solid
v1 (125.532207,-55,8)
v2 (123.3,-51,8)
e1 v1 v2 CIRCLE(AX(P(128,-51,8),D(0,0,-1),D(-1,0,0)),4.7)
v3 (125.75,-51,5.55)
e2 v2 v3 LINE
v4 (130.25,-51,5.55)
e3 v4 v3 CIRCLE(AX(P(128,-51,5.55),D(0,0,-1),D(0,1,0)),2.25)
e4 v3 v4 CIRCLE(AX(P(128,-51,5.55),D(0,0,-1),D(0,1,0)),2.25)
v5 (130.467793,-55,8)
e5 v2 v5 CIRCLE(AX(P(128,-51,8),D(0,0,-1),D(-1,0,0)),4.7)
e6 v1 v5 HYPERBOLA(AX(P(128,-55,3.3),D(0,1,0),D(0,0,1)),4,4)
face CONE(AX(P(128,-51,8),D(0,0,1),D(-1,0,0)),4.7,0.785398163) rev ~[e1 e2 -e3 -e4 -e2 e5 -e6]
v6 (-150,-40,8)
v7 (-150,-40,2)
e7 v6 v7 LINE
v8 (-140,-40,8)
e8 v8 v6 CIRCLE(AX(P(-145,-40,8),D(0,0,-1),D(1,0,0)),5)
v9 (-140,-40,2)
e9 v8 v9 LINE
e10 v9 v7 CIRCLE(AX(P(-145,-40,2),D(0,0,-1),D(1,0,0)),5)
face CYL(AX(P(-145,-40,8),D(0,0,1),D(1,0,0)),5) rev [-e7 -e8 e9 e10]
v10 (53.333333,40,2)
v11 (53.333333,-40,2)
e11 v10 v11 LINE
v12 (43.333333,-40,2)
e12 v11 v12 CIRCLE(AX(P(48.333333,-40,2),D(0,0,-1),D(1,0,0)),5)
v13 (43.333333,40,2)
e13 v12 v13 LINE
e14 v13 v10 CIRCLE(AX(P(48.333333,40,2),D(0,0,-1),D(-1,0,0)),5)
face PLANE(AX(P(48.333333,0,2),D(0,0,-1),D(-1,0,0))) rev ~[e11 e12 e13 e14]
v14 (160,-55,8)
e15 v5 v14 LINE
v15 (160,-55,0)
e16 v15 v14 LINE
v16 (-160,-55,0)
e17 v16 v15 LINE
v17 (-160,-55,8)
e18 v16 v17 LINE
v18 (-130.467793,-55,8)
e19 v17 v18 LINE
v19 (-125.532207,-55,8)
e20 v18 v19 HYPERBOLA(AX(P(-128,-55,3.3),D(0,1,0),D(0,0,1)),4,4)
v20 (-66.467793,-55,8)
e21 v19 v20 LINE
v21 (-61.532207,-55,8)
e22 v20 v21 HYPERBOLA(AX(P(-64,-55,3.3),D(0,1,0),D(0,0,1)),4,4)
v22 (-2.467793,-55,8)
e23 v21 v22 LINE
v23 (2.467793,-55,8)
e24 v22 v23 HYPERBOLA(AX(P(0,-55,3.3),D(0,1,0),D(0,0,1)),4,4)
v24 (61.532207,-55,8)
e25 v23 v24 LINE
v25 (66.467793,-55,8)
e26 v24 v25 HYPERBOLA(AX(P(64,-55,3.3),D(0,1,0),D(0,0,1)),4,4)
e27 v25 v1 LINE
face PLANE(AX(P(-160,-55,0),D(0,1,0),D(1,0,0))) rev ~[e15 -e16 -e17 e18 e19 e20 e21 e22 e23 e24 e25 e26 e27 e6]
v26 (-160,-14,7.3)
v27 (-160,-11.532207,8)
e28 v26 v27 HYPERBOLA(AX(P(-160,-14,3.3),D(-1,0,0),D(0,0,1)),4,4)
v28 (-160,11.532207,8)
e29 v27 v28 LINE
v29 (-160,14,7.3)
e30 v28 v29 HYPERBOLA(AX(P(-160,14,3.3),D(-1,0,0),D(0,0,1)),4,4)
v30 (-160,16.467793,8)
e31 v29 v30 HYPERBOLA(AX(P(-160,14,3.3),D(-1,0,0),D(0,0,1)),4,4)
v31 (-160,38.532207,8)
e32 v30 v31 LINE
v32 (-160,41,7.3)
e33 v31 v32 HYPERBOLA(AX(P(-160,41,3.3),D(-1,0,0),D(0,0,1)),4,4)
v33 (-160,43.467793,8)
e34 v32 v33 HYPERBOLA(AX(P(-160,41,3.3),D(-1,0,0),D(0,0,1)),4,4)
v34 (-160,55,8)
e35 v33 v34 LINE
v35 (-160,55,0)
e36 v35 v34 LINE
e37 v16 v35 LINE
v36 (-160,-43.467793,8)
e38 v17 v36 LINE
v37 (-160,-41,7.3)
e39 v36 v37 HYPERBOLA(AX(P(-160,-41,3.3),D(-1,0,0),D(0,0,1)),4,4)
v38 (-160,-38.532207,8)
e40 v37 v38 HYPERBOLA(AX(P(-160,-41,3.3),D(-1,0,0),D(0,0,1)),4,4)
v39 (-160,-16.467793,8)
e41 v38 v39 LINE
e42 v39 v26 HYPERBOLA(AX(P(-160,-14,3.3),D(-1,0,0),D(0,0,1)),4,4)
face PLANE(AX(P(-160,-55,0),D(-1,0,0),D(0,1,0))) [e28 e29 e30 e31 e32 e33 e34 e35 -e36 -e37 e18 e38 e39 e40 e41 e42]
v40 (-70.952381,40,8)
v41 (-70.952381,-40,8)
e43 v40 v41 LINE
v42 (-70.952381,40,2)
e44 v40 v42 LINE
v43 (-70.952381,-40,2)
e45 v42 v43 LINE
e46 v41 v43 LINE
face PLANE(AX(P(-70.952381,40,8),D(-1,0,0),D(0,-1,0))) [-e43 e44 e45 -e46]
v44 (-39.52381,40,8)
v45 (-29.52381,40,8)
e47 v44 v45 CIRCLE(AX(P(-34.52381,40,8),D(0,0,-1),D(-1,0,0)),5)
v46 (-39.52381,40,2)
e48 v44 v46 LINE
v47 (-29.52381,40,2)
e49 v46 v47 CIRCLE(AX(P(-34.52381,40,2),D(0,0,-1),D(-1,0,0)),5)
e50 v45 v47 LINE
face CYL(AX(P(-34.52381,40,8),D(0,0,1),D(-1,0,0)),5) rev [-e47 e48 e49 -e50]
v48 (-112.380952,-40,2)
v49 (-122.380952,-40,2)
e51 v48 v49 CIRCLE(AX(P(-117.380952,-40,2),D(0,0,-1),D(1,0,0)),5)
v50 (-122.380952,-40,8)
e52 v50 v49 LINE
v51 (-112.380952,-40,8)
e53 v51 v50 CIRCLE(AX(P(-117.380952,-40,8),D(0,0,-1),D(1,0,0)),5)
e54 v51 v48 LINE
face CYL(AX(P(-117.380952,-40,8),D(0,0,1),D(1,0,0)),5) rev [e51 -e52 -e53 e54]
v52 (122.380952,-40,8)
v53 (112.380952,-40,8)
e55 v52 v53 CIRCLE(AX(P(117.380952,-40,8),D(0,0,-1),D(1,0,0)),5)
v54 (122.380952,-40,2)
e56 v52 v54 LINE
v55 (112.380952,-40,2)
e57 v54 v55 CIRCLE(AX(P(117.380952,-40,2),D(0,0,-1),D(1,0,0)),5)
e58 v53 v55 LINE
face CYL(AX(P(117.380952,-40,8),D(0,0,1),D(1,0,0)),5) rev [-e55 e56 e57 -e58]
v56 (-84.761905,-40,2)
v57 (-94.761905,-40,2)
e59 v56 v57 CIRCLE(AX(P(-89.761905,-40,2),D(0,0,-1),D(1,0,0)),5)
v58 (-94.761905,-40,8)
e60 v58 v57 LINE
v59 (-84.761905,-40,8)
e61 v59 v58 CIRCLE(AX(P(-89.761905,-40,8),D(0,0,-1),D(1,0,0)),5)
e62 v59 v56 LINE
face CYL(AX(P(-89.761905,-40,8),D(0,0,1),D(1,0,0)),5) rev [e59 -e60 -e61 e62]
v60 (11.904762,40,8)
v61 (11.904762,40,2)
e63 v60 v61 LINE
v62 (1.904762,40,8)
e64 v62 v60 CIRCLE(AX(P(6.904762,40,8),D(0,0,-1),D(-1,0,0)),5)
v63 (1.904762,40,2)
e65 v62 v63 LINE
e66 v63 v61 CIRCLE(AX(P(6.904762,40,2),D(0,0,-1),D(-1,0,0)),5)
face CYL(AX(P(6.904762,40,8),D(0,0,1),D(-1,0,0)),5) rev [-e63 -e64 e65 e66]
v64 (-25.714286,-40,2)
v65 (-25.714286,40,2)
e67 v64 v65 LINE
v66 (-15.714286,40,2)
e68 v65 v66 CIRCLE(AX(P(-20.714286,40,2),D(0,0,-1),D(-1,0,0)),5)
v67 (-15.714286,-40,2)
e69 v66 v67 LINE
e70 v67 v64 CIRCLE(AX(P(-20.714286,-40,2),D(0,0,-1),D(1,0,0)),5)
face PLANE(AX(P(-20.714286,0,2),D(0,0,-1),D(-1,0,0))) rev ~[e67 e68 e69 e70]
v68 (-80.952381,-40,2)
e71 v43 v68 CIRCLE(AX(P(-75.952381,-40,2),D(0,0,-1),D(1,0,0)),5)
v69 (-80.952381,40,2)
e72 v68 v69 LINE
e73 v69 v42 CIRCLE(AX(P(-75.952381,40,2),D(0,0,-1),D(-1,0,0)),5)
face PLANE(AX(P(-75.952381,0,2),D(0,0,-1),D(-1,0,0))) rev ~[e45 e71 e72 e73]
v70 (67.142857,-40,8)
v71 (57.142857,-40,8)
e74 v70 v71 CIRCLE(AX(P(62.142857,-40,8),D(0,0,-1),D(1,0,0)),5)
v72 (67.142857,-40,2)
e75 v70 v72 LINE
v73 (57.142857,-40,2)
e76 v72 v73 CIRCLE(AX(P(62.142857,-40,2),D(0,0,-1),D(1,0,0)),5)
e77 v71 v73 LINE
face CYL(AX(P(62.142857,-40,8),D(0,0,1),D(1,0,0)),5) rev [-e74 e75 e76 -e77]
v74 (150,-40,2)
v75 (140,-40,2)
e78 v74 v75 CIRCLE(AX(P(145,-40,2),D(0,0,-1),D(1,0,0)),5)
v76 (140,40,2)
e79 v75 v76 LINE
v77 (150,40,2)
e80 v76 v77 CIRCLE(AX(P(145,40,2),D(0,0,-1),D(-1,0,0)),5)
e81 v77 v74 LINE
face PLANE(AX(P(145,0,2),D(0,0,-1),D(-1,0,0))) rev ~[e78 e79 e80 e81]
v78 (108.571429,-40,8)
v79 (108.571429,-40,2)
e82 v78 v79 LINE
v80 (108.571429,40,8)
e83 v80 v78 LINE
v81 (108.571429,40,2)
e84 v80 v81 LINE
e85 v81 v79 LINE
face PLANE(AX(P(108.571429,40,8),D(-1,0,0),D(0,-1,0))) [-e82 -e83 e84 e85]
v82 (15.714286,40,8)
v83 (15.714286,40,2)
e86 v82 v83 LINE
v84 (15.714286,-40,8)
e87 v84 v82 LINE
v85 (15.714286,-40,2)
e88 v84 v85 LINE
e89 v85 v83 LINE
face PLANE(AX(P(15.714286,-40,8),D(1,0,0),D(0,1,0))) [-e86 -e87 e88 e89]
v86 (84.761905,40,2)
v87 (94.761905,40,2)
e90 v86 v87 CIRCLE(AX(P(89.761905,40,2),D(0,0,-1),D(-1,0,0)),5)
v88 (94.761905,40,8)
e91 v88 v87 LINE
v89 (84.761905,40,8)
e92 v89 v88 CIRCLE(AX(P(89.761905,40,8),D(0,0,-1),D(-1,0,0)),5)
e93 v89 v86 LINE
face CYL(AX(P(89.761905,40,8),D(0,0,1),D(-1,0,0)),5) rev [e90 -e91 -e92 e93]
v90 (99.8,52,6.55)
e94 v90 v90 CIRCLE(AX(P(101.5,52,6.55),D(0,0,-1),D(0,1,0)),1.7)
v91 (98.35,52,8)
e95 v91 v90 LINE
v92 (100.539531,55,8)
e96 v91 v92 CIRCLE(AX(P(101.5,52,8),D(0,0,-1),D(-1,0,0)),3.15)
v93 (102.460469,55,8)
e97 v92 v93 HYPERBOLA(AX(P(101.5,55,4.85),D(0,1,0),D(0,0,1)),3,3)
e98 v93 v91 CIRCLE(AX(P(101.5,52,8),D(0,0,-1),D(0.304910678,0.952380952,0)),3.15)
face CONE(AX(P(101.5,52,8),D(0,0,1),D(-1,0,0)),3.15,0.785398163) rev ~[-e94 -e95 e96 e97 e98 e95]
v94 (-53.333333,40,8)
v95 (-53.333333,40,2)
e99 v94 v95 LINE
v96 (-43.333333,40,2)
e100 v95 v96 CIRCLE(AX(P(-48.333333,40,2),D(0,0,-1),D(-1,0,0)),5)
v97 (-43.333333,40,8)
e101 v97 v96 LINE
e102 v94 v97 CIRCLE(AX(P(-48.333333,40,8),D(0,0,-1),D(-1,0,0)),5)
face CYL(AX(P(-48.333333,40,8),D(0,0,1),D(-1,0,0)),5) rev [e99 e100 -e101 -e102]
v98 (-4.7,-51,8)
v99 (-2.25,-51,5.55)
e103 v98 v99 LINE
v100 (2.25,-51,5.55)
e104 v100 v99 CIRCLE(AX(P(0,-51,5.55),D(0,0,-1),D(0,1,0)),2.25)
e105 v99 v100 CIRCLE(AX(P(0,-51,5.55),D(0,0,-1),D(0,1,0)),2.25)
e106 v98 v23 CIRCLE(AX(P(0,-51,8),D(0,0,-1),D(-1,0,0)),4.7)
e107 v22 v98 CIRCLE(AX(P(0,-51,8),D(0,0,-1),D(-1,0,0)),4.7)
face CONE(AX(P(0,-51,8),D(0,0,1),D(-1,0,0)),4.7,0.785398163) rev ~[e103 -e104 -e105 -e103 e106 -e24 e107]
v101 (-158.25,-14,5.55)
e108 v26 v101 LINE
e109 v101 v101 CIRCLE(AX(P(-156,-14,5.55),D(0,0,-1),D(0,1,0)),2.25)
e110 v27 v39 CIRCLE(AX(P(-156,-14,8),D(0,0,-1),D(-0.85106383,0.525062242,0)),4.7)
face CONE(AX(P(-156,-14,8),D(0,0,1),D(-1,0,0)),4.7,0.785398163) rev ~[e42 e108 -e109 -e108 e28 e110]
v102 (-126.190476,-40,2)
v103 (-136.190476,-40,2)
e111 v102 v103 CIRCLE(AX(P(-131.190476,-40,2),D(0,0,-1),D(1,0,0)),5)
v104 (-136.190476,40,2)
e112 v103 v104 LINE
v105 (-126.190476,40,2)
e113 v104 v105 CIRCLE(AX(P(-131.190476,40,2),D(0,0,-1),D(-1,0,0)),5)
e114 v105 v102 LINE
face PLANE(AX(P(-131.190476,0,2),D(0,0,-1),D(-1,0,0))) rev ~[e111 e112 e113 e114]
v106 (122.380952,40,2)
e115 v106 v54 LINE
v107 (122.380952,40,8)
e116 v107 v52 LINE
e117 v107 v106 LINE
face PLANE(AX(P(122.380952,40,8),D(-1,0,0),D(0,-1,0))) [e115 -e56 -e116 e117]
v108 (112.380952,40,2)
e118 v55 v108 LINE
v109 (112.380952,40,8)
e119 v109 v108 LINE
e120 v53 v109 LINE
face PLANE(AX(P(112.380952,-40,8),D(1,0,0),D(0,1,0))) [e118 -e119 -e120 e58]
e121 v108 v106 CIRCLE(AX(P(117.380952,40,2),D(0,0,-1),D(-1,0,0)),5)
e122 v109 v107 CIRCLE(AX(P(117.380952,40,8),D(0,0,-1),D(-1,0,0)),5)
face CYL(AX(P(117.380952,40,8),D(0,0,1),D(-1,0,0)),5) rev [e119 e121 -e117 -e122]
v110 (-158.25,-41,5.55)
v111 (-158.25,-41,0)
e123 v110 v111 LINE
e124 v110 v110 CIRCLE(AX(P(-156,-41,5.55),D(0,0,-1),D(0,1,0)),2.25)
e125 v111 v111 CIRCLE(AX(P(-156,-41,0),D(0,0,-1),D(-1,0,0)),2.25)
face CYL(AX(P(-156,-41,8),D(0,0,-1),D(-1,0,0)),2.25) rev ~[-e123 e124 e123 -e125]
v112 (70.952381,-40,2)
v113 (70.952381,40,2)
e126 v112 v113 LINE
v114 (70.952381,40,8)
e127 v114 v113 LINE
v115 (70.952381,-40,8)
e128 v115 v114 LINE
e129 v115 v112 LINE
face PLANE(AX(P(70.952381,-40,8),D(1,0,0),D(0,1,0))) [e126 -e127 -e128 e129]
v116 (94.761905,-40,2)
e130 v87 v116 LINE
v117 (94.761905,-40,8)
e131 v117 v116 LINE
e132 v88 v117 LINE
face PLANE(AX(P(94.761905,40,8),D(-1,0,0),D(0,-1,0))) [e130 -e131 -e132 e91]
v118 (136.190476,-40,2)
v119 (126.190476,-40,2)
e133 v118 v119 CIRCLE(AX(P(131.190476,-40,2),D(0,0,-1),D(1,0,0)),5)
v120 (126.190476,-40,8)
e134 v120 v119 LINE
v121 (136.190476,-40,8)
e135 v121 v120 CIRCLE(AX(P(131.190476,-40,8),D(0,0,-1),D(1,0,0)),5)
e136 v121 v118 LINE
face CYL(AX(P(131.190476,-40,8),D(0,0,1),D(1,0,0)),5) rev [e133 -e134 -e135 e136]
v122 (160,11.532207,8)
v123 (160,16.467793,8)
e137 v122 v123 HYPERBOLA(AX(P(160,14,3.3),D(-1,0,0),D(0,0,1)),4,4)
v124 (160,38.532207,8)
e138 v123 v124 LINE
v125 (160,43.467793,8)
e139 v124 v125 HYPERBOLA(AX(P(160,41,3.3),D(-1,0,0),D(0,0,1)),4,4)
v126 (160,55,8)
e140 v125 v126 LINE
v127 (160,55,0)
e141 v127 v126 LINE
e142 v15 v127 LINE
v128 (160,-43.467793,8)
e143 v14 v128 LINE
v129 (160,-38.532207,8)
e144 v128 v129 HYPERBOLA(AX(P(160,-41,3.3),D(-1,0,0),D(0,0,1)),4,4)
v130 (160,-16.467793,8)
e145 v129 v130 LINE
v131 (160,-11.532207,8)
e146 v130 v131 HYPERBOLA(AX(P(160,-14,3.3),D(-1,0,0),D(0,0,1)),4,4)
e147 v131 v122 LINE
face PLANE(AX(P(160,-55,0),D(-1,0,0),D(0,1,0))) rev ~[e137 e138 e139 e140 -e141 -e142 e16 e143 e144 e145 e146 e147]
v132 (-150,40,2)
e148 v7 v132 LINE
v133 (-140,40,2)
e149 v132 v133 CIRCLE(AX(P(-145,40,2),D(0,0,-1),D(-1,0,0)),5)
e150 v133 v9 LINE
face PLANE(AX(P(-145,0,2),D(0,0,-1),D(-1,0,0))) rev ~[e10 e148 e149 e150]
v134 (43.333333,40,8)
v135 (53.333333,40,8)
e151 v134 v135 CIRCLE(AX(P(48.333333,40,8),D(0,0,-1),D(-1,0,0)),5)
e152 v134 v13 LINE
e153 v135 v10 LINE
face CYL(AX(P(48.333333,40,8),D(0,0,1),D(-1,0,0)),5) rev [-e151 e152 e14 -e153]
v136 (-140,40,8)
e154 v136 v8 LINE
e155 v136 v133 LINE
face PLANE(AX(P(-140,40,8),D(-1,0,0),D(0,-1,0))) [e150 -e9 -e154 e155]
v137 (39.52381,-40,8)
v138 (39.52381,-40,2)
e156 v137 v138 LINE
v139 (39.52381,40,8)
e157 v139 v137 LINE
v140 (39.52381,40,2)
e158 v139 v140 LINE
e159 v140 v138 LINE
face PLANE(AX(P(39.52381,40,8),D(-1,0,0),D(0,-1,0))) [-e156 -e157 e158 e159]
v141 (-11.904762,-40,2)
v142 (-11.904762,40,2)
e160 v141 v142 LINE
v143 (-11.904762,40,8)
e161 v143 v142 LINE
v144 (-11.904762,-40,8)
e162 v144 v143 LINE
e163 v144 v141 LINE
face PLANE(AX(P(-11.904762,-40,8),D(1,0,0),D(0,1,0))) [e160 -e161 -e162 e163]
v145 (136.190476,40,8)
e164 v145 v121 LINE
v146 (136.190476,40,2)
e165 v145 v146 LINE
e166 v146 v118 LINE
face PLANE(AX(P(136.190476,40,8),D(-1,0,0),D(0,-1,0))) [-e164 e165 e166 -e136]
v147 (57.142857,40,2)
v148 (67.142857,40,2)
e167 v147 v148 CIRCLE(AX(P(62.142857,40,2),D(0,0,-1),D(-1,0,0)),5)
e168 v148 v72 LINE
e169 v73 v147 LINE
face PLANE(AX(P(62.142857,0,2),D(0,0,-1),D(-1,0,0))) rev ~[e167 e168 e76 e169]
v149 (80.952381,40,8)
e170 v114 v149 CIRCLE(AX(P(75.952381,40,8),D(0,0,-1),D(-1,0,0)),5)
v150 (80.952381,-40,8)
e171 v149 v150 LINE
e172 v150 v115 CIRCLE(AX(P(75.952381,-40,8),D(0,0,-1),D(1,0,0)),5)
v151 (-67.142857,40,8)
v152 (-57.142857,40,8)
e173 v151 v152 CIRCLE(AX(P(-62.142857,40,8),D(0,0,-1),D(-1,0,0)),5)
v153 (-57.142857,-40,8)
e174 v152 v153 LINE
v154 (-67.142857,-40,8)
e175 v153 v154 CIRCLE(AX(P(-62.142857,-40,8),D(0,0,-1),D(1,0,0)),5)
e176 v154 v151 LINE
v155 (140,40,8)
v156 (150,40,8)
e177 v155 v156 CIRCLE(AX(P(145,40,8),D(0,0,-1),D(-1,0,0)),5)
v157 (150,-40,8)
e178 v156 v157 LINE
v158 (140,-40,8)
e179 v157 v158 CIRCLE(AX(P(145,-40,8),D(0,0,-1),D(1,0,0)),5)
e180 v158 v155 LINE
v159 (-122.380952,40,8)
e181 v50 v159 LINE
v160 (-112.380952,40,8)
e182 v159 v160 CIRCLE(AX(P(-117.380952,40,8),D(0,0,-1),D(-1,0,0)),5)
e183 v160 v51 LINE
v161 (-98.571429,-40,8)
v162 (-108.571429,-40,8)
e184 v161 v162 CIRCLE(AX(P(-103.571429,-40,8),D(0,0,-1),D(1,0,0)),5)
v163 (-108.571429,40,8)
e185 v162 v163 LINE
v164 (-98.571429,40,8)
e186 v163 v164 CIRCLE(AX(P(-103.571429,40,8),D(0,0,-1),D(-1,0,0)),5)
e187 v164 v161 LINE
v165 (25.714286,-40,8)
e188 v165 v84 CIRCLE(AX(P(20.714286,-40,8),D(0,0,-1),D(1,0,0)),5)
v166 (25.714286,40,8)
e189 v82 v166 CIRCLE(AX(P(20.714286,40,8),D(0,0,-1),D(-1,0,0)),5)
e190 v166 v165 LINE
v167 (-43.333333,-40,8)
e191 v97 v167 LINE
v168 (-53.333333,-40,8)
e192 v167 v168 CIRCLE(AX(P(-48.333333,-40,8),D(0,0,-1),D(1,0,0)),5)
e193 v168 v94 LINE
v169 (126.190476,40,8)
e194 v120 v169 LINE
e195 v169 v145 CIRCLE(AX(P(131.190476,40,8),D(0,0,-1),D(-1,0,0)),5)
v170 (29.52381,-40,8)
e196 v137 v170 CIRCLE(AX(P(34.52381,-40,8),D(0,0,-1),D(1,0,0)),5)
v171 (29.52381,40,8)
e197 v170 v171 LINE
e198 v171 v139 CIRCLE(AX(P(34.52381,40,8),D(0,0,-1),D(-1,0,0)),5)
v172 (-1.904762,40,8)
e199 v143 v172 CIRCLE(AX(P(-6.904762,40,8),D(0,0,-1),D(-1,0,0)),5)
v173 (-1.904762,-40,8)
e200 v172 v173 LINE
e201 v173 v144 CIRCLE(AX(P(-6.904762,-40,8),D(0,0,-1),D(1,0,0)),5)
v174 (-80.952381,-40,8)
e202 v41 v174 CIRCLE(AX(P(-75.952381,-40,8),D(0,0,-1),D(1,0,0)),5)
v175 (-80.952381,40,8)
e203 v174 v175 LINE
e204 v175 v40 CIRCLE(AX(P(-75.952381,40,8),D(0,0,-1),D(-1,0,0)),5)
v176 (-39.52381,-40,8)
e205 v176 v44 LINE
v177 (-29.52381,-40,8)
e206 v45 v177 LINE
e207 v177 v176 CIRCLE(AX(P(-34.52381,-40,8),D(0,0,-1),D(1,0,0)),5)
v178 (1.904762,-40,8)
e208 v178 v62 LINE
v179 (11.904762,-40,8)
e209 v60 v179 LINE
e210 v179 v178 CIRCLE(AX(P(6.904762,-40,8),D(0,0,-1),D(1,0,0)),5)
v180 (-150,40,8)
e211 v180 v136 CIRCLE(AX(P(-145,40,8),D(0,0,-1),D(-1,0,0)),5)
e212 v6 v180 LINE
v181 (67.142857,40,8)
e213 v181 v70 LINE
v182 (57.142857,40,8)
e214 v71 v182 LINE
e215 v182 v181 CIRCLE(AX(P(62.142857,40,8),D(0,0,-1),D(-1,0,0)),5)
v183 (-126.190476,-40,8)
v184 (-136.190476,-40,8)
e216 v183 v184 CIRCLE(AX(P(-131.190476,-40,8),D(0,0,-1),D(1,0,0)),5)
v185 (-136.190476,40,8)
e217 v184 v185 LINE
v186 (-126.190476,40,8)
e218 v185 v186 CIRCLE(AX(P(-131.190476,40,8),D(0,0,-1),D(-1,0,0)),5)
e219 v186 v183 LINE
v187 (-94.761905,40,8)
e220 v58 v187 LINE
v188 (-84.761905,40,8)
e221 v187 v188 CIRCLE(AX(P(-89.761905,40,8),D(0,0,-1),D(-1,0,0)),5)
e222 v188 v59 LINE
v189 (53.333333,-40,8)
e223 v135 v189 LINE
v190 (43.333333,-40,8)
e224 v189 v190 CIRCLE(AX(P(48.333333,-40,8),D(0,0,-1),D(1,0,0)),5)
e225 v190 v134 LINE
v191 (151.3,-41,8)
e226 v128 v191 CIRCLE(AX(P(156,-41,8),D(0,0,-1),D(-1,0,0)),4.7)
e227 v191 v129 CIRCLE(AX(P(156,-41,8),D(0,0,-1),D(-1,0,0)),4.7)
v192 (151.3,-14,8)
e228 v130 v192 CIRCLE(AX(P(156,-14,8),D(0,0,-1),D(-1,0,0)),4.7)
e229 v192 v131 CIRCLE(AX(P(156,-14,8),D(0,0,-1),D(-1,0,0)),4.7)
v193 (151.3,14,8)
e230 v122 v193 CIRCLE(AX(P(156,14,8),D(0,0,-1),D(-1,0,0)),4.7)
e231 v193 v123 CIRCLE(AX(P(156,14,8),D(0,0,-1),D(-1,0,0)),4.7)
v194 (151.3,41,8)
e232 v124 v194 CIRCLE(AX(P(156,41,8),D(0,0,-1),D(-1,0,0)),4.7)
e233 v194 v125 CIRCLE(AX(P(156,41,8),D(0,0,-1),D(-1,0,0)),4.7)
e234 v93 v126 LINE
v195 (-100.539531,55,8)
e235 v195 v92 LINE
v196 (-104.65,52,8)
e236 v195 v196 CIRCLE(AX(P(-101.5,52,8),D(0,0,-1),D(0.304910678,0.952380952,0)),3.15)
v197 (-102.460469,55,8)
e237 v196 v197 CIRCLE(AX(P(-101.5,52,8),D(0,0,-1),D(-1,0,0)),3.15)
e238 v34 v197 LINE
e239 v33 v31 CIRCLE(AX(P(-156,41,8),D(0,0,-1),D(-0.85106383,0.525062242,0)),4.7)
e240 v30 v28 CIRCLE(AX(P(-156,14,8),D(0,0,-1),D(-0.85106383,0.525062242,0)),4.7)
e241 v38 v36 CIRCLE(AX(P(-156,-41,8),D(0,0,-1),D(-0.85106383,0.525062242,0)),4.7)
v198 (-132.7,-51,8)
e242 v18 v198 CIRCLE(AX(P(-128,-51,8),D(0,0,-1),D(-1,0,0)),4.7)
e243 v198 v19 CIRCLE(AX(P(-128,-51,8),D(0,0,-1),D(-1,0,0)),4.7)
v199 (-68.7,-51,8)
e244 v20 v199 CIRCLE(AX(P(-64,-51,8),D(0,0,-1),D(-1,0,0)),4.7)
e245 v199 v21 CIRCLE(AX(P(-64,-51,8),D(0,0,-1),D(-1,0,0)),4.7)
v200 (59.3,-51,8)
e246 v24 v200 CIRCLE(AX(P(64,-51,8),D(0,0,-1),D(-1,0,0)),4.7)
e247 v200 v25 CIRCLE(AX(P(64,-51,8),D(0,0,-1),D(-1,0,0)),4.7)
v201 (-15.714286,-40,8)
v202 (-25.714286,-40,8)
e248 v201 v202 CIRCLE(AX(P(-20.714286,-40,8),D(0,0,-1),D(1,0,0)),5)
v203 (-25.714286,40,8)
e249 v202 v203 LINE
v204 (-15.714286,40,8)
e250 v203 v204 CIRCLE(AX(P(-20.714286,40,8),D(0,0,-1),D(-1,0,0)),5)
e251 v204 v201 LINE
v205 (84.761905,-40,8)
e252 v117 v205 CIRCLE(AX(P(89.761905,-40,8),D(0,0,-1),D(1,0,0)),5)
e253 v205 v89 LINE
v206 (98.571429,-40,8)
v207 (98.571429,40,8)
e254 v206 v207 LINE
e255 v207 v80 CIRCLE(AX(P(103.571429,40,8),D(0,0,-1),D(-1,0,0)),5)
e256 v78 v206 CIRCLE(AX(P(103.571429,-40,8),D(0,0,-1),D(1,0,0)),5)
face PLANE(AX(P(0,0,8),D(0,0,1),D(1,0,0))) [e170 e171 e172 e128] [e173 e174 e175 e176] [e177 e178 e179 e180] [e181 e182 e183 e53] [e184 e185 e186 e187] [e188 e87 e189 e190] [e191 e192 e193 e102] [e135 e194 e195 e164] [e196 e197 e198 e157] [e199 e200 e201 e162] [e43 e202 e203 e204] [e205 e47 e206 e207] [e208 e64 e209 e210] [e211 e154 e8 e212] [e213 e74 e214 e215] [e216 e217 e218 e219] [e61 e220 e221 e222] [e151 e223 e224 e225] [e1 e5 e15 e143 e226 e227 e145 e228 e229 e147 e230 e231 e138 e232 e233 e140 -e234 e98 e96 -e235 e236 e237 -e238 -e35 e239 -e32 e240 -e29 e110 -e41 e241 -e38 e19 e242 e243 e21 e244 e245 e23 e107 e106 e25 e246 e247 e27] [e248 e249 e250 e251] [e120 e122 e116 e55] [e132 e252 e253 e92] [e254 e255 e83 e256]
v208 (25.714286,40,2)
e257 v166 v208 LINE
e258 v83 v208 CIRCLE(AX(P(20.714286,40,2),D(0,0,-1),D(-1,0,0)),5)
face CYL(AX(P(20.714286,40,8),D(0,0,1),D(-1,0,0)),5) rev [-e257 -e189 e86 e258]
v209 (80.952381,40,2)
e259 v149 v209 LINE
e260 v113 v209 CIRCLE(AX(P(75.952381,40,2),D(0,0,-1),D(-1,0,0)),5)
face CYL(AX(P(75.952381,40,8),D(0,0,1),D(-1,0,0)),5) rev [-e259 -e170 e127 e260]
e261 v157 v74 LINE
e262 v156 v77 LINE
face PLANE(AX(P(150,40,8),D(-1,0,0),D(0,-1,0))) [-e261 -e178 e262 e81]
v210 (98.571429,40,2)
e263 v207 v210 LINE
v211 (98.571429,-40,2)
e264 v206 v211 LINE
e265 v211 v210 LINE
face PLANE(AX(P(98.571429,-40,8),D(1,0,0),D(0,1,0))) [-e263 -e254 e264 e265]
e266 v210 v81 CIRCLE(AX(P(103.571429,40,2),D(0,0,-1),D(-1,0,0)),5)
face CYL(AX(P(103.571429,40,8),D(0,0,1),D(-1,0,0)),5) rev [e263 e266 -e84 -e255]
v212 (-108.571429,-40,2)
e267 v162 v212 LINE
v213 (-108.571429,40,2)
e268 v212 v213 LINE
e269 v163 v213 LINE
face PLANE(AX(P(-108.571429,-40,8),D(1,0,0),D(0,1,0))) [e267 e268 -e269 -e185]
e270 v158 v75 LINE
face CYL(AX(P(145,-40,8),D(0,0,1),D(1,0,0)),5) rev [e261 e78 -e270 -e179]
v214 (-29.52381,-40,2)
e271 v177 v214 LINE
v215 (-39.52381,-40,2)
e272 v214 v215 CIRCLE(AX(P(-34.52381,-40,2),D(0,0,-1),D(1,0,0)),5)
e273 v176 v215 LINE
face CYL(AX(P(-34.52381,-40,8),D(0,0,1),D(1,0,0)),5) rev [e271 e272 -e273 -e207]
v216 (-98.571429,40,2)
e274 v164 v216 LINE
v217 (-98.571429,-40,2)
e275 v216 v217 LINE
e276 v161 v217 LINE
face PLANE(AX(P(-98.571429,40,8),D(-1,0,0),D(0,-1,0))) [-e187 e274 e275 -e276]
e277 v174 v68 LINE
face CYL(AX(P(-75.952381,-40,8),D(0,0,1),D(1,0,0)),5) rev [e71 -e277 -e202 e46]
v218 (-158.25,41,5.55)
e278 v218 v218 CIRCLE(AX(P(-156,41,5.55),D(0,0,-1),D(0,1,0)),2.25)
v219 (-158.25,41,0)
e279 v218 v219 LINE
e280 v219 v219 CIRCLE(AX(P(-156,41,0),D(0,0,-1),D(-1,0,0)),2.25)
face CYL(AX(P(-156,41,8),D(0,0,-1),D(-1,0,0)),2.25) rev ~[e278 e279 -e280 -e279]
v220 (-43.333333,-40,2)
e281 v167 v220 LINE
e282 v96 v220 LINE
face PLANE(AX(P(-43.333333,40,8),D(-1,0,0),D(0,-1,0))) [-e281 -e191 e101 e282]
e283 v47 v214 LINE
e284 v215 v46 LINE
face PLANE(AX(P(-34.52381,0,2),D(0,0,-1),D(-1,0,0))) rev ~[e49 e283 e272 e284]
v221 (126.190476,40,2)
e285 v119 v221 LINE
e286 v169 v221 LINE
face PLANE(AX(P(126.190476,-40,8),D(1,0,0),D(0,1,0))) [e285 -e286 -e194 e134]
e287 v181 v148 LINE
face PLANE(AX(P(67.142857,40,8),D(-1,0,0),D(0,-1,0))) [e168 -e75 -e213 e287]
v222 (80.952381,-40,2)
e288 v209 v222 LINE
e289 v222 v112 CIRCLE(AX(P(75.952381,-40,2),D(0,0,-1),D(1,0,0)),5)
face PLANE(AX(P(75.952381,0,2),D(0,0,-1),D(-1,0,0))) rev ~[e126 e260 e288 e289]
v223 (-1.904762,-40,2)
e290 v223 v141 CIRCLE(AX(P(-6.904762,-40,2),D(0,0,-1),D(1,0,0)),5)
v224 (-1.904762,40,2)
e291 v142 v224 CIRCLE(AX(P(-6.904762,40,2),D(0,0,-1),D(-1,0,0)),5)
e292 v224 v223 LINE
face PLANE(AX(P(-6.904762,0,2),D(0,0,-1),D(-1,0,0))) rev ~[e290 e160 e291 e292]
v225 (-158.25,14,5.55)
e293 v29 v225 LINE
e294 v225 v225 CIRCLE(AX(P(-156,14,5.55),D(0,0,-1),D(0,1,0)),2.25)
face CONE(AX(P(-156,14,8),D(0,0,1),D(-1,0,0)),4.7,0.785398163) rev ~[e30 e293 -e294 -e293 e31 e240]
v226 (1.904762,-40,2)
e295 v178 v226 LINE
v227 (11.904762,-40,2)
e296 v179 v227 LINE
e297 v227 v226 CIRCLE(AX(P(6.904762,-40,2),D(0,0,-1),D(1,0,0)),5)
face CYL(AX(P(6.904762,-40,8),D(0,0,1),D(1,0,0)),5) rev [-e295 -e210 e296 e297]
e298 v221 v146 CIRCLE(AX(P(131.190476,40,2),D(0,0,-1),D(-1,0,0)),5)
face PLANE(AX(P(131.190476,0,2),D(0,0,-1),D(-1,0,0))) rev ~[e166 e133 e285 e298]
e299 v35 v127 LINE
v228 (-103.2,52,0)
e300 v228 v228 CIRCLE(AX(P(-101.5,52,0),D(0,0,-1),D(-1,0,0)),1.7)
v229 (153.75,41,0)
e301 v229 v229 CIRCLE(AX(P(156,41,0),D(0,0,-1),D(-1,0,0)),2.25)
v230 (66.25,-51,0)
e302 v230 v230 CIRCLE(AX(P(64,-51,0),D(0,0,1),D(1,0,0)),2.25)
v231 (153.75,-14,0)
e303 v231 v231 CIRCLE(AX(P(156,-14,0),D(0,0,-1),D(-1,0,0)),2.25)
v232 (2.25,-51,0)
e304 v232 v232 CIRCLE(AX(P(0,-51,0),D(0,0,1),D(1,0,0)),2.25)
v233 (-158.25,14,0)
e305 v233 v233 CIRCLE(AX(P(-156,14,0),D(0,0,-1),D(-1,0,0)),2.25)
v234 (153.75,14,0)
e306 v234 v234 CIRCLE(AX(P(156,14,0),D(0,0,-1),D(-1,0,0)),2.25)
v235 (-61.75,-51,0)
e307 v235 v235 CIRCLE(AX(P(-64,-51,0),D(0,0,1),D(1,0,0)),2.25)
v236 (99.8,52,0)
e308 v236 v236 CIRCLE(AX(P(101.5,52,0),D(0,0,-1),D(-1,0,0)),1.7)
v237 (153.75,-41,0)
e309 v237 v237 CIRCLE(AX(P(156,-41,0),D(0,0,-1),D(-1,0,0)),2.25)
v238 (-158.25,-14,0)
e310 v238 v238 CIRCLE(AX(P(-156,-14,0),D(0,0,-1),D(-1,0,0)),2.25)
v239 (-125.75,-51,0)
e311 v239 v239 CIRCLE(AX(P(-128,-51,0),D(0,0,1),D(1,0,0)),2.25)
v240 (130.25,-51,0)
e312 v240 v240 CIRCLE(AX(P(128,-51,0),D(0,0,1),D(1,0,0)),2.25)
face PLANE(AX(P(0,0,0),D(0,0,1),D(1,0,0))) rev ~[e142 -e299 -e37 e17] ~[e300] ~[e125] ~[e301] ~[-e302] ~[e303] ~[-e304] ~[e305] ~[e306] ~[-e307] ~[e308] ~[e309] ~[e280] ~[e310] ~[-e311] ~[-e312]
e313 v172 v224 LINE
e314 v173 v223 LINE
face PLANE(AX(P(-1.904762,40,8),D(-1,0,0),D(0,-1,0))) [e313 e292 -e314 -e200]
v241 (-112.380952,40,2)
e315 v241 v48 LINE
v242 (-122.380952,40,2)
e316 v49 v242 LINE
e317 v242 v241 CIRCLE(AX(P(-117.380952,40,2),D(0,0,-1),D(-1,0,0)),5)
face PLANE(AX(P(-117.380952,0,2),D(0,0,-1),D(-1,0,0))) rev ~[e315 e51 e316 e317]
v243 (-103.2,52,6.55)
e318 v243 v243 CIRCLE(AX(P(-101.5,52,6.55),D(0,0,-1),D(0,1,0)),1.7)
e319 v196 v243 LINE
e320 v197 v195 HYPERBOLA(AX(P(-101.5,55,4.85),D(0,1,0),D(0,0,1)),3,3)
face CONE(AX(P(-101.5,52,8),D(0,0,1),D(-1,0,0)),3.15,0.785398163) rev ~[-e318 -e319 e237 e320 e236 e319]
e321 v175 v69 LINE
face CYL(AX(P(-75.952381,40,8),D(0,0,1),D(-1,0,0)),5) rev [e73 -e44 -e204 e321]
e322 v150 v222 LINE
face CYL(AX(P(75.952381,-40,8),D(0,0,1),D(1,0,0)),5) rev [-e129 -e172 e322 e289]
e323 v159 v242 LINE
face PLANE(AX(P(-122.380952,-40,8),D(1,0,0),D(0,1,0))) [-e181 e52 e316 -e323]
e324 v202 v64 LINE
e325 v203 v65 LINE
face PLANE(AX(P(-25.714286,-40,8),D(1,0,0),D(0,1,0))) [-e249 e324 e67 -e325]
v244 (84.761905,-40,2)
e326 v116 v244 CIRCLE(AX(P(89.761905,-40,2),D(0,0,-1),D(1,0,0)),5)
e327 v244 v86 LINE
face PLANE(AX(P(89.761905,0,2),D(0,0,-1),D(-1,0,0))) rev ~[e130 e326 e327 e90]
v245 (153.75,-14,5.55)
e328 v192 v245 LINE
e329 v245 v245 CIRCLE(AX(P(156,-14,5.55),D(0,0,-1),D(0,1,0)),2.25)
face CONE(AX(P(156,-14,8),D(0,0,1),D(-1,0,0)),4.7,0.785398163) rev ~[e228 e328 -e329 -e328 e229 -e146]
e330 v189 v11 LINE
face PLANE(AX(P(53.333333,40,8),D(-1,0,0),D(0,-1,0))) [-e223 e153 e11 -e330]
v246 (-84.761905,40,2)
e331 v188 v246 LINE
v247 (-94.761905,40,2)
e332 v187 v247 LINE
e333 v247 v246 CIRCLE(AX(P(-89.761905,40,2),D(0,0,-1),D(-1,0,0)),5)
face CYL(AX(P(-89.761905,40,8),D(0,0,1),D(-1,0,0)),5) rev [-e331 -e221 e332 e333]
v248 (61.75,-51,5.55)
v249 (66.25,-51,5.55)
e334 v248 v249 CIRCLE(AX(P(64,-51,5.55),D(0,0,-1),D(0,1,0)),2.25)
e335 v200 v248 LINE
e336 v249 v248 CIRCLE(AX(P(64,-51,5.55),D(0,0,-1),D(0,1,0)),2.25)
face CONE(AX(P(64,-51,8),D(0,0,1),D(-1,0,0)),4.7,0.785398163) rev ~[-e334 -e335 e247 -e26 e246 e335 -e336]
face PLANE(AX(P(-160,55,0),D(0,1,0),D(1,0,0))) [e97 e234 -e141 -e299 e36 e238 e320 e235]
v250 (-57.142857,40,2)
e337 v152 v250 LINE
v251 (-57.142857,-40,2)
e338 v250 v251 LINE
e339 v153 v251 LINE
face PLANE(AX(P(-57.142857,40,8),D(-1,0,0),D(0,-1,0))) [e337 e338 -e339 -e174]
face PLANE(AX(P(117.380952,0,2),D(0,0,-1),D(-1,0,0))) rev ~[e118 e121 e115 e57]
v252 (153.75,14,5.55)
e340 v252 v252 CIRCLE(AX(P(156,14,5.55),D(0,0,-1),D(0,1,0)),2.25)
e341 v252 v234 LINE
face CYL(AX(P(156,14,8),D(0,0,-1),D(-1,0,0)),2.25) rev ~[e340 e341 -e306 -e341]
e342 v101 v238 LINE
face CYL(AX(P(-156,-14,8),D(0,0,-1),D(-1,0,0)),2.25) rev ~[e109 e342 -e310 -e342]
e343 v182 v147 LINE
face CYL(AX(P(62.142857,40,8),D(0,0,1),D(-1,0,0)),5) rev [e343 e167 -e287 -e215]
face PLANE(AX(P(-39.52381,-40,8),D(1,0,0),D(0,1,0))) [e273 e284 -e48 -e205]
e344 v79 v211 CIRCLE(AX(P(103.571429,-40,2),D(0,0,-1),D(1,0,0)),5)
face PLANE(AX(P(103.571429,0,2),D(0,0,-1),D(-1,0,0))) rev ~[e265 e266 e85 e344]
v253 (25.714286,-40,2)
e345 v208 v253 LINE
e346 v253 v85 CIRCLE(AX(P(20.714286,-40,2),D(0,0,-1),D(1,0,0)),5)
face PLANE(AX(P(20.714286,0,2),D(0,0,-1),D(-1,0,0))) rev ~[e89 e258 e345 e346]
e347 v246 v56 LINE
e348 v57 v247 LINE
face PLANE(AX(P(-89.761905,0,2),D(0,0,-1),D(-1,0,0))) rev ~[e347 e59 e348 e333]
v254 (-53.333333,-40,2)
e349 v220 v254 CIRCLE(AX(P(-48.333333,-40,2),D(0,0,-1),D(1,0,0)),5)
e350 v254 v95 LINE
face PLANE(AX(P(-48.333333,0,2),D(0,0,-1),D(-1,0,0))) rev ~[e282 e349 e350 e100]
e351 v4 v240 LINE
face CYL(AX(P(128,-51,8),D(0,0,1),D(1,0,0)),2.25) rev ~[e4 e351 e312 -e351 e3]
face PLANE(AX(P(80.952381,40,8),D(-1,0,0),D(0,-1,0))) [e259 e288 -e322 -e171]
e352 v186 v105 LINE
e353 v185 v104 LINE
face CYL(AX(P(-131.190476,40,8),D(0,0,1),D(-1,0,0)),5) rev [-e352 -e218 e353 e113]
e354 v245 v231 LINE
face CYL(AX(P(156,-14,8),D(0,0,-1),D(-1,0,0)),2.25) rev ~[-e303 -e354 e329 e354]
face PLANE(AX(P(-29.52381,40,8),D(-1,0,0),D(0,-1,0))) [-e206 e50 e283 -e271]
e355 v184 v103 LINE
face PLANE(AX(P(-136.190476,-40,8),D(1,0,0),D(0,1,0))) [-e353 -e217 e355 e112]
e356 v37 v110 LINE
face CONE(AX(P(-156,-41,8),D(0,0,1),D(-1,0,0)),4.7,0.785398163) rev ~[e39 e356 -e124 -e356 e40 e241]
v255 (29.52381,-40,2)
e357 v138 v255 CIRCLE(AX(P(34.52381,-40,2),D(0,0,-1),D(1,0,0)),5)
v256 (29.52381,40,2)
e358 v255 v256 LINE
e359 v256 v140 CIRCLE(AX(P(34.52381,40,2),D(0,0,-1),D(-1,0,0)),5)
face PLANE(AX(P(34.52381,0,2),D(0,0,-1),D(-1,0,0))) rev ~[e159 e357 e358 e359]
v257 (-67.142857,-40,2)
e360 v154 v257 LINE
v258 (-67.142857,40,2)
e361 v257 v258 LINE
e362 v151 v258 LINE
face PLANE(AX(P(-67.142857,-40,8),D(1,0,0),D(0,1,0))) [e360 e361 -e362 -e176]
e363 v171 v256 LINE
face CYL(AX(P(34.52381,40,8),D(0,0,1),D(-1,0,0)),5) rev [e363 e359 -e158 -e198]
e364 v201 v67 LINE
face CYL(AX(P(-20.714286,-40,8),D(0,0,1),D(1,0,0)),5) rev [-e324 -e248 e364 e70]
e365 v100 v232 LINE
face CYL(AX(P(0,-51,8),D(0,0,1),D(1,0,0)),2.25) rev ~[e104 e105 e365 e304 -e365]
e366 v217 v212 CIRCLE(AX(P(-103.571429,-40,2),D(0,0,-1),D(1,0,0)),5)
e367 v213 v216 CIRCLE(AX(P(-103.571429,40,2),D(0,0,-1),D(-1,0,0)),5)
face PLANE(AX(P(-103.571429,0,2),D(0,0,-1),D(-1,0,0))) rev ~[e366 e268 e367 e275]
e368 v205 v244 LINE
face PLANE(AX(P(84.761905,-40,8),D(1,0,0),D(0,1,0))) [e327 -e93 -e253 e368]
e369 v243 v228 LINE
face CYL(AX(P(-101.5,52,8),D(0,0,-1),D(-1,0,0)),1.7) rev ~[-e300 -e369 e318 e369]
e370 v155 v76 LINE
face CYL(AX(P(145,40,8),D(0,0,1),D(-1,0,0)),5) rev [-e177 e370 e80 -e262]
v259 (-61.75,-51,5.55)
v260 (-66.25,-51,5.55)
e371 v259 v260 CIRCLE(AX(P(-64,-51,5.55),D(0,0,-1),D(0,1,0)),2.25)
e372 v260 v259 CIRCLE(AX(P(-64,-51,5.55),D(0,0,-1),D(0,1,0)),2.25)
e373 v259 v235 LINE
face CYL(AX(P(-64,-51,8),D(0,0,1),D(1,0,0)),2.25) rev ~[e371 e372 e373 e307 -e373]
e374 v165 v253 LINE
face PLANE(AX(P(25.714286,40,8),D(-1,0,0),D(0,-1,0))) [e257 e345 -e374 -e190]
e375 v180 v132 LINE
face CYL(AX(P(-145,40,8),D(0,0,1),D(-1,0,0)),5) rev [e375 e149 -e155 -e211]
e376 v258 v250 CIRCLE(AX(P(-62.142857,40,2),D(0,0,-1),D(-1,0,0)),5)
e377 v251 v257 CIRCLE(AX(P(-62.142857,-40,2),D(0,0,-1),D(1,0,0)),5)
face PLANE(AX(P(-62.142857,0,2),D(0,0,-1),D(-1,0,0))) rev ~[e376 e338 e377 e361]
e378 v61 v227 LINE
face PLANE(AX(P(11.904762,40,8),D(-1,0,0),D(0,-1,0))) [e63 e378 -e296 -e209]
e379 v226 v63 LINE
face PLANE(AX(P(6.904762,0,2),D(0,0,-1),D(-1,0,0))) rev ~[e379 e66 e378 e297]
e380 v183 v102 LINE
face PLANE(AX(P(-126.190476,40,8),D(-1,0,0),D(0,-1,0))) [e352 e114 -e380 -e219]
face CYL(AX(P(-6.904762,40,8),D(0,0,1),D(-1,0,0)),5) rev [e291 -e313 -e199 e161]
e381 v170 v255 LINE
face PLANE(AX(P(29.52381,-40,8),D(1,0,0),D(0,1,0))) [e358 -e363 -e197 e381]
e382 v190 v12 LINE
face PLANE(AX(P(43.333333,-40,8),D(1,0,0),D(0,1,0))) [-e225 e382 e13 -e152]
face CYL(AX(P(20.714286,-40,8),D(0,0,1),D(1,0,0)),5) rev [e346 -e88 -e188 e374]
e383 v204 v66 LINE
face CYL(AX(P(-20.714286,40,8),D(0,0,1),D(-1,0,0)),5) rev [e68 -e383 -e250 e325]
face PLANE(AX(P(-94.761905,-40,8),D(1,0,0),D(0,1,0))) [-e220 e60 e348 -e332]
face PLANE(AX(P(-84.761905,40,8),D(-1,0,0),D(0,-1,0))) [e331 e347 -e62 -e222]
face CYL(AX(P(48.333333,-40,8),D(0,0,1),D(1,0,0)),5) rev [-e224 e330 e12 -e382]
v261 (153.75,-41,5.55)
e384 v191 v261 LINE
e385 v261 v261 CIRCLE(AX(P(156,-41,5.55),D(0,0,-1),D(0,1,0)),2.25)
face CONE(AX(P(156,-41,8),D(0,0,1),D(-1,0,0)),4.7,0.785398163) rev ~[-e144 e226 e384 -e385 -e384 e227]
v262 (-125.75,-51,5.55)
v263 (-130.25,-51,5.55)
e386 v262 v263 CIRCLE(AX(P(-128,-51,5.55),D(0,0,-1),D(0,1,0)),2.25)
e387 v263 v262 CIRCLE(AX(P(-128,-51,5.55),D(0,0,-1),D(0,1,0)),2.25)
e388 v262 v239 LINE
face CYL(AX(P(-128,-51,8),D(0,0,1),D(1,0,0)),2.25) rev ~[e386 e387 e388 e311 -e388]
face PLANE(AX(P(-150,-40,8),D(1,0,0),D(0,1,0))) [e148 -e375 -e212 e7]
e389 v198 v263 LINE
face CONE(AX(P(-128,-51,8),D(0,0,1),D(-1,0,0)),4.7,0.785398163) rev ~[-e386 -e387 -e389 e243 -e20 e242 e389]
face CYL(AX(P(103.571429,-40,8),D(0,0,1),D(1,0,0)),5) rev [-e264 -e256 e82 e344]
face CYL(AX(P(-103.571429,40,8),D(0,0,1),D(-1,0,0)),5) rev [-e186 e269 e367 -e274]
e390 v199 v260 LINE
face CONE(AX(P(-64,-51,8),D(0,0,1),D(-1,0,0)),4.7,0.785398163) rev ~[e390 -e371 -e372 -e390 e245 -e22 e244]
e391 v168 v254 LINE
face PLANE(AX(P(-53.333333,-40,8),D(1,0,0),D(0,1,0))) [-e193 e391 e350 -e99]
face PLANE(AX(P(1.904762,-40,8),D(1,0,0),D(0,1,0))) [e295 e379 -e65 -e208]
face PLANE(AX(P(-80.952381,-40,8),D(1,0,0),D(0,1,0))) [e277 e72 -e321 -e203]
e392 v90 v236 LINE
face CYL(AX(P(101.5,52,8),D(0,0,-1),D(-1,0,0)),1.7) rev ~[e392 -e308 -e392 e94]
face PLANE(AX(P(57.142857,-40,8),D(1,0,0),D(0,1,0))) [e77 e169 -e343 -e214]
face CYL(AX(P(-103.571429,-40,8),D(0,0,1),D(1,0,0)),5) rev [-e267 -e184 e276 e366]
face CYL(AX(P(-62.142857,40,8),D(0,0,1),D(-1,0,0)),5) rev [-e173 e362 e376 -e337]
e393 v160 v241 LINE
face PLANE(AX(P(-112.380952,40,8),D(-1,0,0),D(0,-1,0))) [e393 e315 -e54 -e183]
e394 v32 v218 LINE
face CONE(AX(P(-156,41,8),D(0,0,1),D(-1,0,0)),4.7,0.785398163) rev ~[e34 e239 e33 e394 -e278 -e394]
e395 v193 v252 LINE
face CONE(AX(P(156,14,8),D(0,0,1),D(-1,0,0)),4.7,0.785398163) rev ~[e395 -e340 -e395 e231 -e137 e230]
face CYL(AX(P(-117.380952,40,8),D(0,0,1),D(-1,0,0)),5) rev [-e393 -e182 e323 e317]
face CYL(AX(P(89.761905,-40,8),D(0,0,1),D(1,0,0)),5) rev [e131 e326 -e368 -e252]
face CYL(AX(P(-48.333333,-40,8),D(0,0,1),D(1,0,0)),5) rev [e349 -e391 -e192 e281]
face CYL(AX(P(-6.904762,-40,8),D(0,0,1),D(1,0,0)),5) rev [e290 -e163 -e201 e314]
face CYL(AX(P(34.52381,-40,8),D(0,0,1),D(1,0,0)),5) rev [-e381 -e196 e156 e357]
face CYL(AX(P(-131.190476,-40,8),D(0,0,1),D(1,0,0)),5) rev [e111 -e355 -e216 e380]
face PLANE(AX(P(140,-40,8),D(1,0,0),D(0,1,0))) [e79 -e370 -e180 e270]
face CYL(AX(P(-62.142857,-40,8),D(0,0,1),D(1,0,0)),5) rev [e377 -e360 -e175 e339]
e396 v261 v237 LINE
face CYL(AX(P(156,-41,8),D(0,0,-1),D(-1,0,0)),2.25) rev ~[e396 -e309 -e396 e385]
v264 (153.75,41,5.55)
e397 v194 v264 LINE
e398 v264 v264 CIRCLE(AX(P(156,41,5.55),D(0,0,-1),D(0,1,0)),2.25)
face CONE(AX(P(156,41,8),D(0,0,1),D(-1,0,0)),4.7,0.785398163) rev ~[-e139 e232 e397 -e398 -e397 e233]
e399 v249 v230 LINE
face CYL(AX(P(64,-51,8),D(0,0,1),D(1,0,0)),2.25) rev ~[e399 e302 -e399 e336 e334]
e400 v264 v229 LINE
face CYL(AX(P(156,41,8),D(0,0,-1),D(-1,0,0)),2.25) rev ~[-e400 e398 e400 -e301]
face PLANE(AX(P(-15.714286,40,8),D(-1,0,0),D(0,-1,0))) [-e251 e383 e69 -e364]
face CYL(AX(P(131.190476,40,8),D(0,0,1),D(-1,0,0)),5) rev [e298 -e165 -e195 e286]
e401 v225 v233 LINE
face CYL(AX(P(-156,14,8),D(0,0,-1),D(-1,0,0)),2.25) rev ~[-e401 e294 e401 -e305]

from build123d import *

# Parameters (mm, degrees)
SKETCH1_W                                       = 320
SKETCH1_H                                       = 110
EXTRUDE1_DEPTH                                  = 8
SKETCH2_R                                       = 1.75
CUT_EXTRUDE1_DEPTH                              = 170.378274876
CUT_EXTRUDE2_DEPTH                              = 6
SKETCH6_R                                       = 2.25
CUT_EXTRUDE3_DEPTH                              = 10
SKETCH9_R                                       = 1.5
CUT_EXTRUDE4_DEPTH                              = 10
CSK_FOR_M4_FLAT_HEAD_MACHINE_SCREW1_D           = 4.5
CSK_FOR_M4_FLAT_HEAD_MACHINE_SCREW1_CSINK_D     = 9.4
CSK_FOR_M4_FLAT_HEAD_MACHINE_SCREW1_CSINK_ANGLE = 90
CSK_FOR_M3_FLAT_HEAD_MACHINE_SCREW1_D           = 3.4
CSK_FOR_M3_FLAT_HEAD_MACHINE_SCREW1_CSINK_D     = 6.3
CSK_FOR_M3_FLAT_HEAD_MACHINE_SCREW1_CSINK_ANGLE = 90


with BuildPart() as part:
    # Sketch1 → Extrude1 (new body)
    with BuildSketch(Plane.XY):
        Rectangle(SKETCH1_W, SKETCH1_H)
    extrude(amount=EXTRUDE1_DEPTH)

    # Sketch2 → Cut-Extrude1 (cut, through all)
    with BuildSketch(Plane.XY.offset(8)):
        with Locations((156, 41)):
            Circle(SKETCH2_R)
        with Locations((156, 14)):
            Circle(SKETCH2_R)
        with Locations(Location((156, -14, 0), (0, 0, 180))):
            Circle(SKETCH2_R)
        with Locations(Location((156, -41, 0), (0, 0, 180))):
            Circle(SKETCH2_R)
        with Locations((-156, -41)):
            Circle(SKETCH2_R)
        with Locations((-156, -14)):
            Circle(SKETCH2_R)
        with Locations(Location((-156, 41, 0), (0, 0, 180))):
            Circle(SKETCH2_R)
        with Locations(Location((-156, 14, 0), (0, 0, 180))):
            Circle(SKETCH2_R)
    extrude(amount=-CUT_EXTRUDE1_DEPTH, mode=Mode.SUBTRACT)

    # Sketch5 → Cut-Extrude2 (cut)
    with BuildSketch(Plane.XY.offset(8)):
        with BuildLine():
            Line((150, 40), (150, -40))
            ThreePointArc((150, -40), (145, -45), (140, -40))
            Line((140, -40), (140, 40))
            ThreePointArc((140, 40), (145, 45), (150, 40))
        make_face()
        with BuildLine():
            Line((136.19047619, 40), (136.19047619, -40))
            ThreePointArc((136.19047619, -40), (131.19047619, -45), (126.19047619, -40))
            Line((126.19047619, -40), (126.19047619, 40))
            ThreePointArc((126.19047619, 40), (131.19047619, 45), (136.19047619, 40))
        make_face()
        with BuildLine():
            Line((122.380952381, 40), (122.380952381, -40))
            ThreePointArc((122.380952381, -40), (117.380952381, -45), (112.380952381, -40))
            Line((112.380952381, -40), (112.380952381, 40))
            ThreePointArc((112.380952381, 40), (117.380952381, 45), (122.380952381, 40))
        make_face()
        with BuildLine():
            Line((108.571428571, 40), (108.571428571, -40))
            ThreePointArc((108.571428571, -40), (103.571428571, -45), (98.571428571, -40))
            Line((98.571428571, -40), (98.571428571, 40))
            ThreePointArc((98.571428571, 40), (103.571428571, 45), (108.571428571, 40))
        make_face()
        with BuildLine():
            Line((94.761904762, 40), (94.761904762, -40))
            ThreePointArc((94.761904762, -40), (89.761904762, -45), (84.761904762, -40))
            Line((84.761904762, -40), (84.761904762, 40))
            ThreePointArc((84.761904762, 40), (89.761904762, 45), (94.761904762, 40))
        make_face()
        with BuildLine():
            Line((80.952380952, 40), (80.952380952, -40))
            ThreePointArc((80.952380952, -40), (75.952380952, -45), (70.952380952, -40))
            Line((70.952380952, -40), (70.952380952, 40))
            ThreePointArc((70.952380952, 40), (75.952380952, 45), (80.952380952, 40))
        make_face()
        with BuildLine():
            Line((67.142857143, 40), (67.142857143, -40))
            ThreePointArc((67.142857143, -40), (62.142857143, -45), (57.142857143, -40))
            Line((57.142857143, -40), (57.142857143, 40))
            ThreePointArc((57.142857143, 40), (62.142857143, 45), (67.142857143, 40))
        make_face()
        with BuildLine():
            Line((53.333333333, 40), (53.333333333, -40))
            ThreePointArc((53.333333333, -40), (48.333333333, -45), (43.333333333, -40))
            Line((43.333333333, -40), (43.333333333, 40))
            ThreePointArc((43.333333333, 40), (48.333333333, 45), (53.333333333, 40))
        make_face()
        with BuildLine():
            Line((39.523809524, 40), (39.523809524, -40))
            ThreePointArc((39.523809524, -40), (34.523809524, -45), (29.523809524, -40))
            Line((29.523809524, -40), (29.523809524, 40))
            ThreePointArc((29.523809524, 40), (34.523809524, 45), (39.523809524, 40))
        make_face()
        with BuildLine():
            Line((25.714285714, 40), (25.714285714, -40))
            ThreePointArc((25.714285714, -40), (20.714285714, -45), (15.714285714, -40))
            Line((15.714285714, -40), (15.714285714, 40))
            ThreePointArc((15.714285714, 40), (20.714285714, 45), (25.714285714, 40))
        make_face()
        with BuildLine():
            Line((11.904761905, 40), (11.904761905, -40))
            ThreePointArc((11.904761905, -40), (6.904761905, -45), (1.904761905, -40))
            Line((1.904761905, -40), (1.904761905, 40))
            ThreePointArc((1.904761905, 40), (6.904761905, 45), (11.904761905, 40))
        make_face()
        with BuildLine():
            Line((-1.904761905, 40), (-1.904761905, -40))
            ThreePointArc((-1.904761905, -40), (-6.904761905, -45), (-11.904761905, -40))
            Line((-11.904761905, -40), (-11.904761905, 40))
            ThreePointArc((-11.904761905, 40), (-6.904761905, 45), (-1.904761905, 40))
        make_face()
        with BuildLine():
            Line((-15.714285714, 40), (-15.714285714, -40))
            ThreePointArc((-15.714285714, -40), (-20.714285714, -45), (-25.714285714, -40))
            Line((-25.714285714, -40), (-25.714285714, 40))
            ThreePointArc((-25.714285714, 40), (-20.714285714, 45), (-15.714285714, 40))
        make_face()
        with BuildLine():
            Line((-29.523809524, 40), (-29.523809524, -40))
            ThreePointArc((-29.523809524, -40), (-34.523809524, -45), (-39.523809524, -40))
            Line((-39.523809524, -40), (-39.523809524, 40))
            ThreePointArc((-39.523809524, 40), (-34.523809524, 45), (-29.523809524, 40))
        make_face()
        with BuildLine():
            Line((-43.333333333, 40), (-43.333333333, -40))
            ThreePointArc((-43.333333333, -40), (-48.333333333, -45), (-53.333333333, -40))
            Line((-53.333333333, -40), (-53.333333333, 40))
            ThreePointArc((-53.333333333, 40), (-48.333333333, 45), (-43.333333333, 40))
        make_face()
        with BuildLine():
            Line((-57.142857143, 40), (-57.142857143, -40))
            ThreePointArc((-57.142857143, -40), (-62.142857143, -45), (-67.142857143, -40))
            Line((-67.142857143, -40), (-67.142857143, 40))
            ThreePointArc((-67.142857143, 40), (-62.142857143, 45), (-57.142857143, 40))
        make_face()
        with BuildLine():
            Line((-70.952380952, 40), (-70.952380952, -40))
            ThreePointArc((-70.952380952, -40), (-75.952380952, -45), (-80.952380952, -40))
            Line((-80.952380952, -40), (-80.952380952, 40))
            ThreePointArc((-80.952380952, 40), (-75.952380952, 45), (-70.952380952, 40))
        make_face()
        with BuildLine():
            Line((-84.761904762, 40), (-84.761904762, -40))
            ThreePointArc((-84.761904762, -40), (-89.761904762, -45), (-94.761904762, -40))
            Line((-94.761904762, -40), (-94.761904762, 40))
            ThreePointArc((-94.761904762, 40), (-89.761904762, 45), (-84.761904762, 40))
        make_face()
        with BuildLine():
            Line((-98.571428571, 40), (-98.571428571, -40))
            ThreePointArc((-98.571428571, -40), (-103.571428571, -45), (-108.571428571, -40))
            Line((-108.571428571, -40), (-108.571428571, 40))
            ThreePointArc((-108.571428571, 40), (-103.571428571, 45), (-98.571428571, 40))
        make_face()
        with BuildLine():
            Line((-112.380952381, 40), (-112.380952381, -40))
            ThreePointArc((-112.380952381, -40), (-117.380952381, -45), (-122.380952381, -40))
            Line((-122.380952381, -40), (-122.380952381, 40))
            ThreePointArc((-122.380952381, 40), (-117.380952381, 45), (-112.380952381, 40))
        make_face()
        with BuildLine():
            Line((-126.19047619, 40), (-126.19047619, -40))
            ThreePointArc((-126.19047619, -40), (-131.19047619, -45), (-136.19047619, -40))
            Line((-136.19047619, -40), (-136.19047619, 40))
            ThreePointArc((-136.19047619, 40), (-131.19047619, 45), (-126.19047619, 40))
        make_face()
        with BuildLine():
            Line((-140, 40), (-140, -40))
            ThreePointArc((-140, -40), (-145, -45), (-150, -40))
            Line((-150, -40), (-150, 40))
            ThreePointArc((-150, 40), (-145, 45), (-140, 40))
        make_face()
    extrude(amount=-CUT_EXTRUDE2_DEPTH, mode=Mode.SUBTRACT)

    # Sketch6 → Cut-Extrude3 (cut)
    with BuildSketch(Plane.XY.offset(8)):
        with Locations((-64, -51)):
            Circle(SKETCH6_R)
        with Locations((0, -51)):
            Circle(SKETCH6_R)
        with Locations((64, -51)):
            Circle(SKETCH6_R)
        with Locations((-128, -51)):
            Circle(SKETCH6_R)
        with Locations((128, -51)):
            Circle(SKETCH6_R)
    extrude(amount=-CUT_EXTRUDE3_DEPTH, mode=Mode.SUBTRACT)

    # Sketch9 → Cut-Extrude4 (cut)
    with BuildSketch(Plane.XY.offset(8)):
        with Locations((101.5, 52)):
            Circle(SKETCH9_R)
        with Locations((-101.5, 52)):
            Circle(SKETCH9_R)
    extrude(amount=-CUT_EXTRUDE4_DEPTH, mode=Mode.SUBTRACT)

    # CSK for M4 Flat Head Machine Screw1 (through all)
    with Locations(Plane.XY.offset(8)):
        with Locations((156, 41), (156, 14), (156, -14), (156, -41), (-156, -41), (-156, -14), (-156, 14), (-156, 41), (-128, -51), (-64, -51), (0, -51), (64, -51), (128, -51)):
            CounterSinkHole(CSK_FOR_M4_FLAT_HEAD_MACHINE_SCREW1_D / 2, CSK_FOR_M4_FLAT_HEAD_MACHINE_SCREW1_CSINK_D / 2, counter_sink_angle=CSK_FOR_M4_FLAT_HEAD_MACHINE_SCREW1_CSINK_ANGLE)

    # CSK for M3 Flat Head Machine Screw1 (through all)
    with Locations(Plane.XY.offset(8)):
        with Locations((-101.5, 52), (101.5, 52)):
            CounterSinkHole(CSK_FOR_M3_FLAT_HEAD_MACHINE_SCREW1_D / 2, CSK_FOR_M3_FLAT_HEAD_MACHINE_SCREW1_CSINK_D / 2, counter_sink_angle=CSK_FOR_M3_FLAT_HEAD_MACHINE_SCREW1_CSINK_ANGLE)


solid = part.part
